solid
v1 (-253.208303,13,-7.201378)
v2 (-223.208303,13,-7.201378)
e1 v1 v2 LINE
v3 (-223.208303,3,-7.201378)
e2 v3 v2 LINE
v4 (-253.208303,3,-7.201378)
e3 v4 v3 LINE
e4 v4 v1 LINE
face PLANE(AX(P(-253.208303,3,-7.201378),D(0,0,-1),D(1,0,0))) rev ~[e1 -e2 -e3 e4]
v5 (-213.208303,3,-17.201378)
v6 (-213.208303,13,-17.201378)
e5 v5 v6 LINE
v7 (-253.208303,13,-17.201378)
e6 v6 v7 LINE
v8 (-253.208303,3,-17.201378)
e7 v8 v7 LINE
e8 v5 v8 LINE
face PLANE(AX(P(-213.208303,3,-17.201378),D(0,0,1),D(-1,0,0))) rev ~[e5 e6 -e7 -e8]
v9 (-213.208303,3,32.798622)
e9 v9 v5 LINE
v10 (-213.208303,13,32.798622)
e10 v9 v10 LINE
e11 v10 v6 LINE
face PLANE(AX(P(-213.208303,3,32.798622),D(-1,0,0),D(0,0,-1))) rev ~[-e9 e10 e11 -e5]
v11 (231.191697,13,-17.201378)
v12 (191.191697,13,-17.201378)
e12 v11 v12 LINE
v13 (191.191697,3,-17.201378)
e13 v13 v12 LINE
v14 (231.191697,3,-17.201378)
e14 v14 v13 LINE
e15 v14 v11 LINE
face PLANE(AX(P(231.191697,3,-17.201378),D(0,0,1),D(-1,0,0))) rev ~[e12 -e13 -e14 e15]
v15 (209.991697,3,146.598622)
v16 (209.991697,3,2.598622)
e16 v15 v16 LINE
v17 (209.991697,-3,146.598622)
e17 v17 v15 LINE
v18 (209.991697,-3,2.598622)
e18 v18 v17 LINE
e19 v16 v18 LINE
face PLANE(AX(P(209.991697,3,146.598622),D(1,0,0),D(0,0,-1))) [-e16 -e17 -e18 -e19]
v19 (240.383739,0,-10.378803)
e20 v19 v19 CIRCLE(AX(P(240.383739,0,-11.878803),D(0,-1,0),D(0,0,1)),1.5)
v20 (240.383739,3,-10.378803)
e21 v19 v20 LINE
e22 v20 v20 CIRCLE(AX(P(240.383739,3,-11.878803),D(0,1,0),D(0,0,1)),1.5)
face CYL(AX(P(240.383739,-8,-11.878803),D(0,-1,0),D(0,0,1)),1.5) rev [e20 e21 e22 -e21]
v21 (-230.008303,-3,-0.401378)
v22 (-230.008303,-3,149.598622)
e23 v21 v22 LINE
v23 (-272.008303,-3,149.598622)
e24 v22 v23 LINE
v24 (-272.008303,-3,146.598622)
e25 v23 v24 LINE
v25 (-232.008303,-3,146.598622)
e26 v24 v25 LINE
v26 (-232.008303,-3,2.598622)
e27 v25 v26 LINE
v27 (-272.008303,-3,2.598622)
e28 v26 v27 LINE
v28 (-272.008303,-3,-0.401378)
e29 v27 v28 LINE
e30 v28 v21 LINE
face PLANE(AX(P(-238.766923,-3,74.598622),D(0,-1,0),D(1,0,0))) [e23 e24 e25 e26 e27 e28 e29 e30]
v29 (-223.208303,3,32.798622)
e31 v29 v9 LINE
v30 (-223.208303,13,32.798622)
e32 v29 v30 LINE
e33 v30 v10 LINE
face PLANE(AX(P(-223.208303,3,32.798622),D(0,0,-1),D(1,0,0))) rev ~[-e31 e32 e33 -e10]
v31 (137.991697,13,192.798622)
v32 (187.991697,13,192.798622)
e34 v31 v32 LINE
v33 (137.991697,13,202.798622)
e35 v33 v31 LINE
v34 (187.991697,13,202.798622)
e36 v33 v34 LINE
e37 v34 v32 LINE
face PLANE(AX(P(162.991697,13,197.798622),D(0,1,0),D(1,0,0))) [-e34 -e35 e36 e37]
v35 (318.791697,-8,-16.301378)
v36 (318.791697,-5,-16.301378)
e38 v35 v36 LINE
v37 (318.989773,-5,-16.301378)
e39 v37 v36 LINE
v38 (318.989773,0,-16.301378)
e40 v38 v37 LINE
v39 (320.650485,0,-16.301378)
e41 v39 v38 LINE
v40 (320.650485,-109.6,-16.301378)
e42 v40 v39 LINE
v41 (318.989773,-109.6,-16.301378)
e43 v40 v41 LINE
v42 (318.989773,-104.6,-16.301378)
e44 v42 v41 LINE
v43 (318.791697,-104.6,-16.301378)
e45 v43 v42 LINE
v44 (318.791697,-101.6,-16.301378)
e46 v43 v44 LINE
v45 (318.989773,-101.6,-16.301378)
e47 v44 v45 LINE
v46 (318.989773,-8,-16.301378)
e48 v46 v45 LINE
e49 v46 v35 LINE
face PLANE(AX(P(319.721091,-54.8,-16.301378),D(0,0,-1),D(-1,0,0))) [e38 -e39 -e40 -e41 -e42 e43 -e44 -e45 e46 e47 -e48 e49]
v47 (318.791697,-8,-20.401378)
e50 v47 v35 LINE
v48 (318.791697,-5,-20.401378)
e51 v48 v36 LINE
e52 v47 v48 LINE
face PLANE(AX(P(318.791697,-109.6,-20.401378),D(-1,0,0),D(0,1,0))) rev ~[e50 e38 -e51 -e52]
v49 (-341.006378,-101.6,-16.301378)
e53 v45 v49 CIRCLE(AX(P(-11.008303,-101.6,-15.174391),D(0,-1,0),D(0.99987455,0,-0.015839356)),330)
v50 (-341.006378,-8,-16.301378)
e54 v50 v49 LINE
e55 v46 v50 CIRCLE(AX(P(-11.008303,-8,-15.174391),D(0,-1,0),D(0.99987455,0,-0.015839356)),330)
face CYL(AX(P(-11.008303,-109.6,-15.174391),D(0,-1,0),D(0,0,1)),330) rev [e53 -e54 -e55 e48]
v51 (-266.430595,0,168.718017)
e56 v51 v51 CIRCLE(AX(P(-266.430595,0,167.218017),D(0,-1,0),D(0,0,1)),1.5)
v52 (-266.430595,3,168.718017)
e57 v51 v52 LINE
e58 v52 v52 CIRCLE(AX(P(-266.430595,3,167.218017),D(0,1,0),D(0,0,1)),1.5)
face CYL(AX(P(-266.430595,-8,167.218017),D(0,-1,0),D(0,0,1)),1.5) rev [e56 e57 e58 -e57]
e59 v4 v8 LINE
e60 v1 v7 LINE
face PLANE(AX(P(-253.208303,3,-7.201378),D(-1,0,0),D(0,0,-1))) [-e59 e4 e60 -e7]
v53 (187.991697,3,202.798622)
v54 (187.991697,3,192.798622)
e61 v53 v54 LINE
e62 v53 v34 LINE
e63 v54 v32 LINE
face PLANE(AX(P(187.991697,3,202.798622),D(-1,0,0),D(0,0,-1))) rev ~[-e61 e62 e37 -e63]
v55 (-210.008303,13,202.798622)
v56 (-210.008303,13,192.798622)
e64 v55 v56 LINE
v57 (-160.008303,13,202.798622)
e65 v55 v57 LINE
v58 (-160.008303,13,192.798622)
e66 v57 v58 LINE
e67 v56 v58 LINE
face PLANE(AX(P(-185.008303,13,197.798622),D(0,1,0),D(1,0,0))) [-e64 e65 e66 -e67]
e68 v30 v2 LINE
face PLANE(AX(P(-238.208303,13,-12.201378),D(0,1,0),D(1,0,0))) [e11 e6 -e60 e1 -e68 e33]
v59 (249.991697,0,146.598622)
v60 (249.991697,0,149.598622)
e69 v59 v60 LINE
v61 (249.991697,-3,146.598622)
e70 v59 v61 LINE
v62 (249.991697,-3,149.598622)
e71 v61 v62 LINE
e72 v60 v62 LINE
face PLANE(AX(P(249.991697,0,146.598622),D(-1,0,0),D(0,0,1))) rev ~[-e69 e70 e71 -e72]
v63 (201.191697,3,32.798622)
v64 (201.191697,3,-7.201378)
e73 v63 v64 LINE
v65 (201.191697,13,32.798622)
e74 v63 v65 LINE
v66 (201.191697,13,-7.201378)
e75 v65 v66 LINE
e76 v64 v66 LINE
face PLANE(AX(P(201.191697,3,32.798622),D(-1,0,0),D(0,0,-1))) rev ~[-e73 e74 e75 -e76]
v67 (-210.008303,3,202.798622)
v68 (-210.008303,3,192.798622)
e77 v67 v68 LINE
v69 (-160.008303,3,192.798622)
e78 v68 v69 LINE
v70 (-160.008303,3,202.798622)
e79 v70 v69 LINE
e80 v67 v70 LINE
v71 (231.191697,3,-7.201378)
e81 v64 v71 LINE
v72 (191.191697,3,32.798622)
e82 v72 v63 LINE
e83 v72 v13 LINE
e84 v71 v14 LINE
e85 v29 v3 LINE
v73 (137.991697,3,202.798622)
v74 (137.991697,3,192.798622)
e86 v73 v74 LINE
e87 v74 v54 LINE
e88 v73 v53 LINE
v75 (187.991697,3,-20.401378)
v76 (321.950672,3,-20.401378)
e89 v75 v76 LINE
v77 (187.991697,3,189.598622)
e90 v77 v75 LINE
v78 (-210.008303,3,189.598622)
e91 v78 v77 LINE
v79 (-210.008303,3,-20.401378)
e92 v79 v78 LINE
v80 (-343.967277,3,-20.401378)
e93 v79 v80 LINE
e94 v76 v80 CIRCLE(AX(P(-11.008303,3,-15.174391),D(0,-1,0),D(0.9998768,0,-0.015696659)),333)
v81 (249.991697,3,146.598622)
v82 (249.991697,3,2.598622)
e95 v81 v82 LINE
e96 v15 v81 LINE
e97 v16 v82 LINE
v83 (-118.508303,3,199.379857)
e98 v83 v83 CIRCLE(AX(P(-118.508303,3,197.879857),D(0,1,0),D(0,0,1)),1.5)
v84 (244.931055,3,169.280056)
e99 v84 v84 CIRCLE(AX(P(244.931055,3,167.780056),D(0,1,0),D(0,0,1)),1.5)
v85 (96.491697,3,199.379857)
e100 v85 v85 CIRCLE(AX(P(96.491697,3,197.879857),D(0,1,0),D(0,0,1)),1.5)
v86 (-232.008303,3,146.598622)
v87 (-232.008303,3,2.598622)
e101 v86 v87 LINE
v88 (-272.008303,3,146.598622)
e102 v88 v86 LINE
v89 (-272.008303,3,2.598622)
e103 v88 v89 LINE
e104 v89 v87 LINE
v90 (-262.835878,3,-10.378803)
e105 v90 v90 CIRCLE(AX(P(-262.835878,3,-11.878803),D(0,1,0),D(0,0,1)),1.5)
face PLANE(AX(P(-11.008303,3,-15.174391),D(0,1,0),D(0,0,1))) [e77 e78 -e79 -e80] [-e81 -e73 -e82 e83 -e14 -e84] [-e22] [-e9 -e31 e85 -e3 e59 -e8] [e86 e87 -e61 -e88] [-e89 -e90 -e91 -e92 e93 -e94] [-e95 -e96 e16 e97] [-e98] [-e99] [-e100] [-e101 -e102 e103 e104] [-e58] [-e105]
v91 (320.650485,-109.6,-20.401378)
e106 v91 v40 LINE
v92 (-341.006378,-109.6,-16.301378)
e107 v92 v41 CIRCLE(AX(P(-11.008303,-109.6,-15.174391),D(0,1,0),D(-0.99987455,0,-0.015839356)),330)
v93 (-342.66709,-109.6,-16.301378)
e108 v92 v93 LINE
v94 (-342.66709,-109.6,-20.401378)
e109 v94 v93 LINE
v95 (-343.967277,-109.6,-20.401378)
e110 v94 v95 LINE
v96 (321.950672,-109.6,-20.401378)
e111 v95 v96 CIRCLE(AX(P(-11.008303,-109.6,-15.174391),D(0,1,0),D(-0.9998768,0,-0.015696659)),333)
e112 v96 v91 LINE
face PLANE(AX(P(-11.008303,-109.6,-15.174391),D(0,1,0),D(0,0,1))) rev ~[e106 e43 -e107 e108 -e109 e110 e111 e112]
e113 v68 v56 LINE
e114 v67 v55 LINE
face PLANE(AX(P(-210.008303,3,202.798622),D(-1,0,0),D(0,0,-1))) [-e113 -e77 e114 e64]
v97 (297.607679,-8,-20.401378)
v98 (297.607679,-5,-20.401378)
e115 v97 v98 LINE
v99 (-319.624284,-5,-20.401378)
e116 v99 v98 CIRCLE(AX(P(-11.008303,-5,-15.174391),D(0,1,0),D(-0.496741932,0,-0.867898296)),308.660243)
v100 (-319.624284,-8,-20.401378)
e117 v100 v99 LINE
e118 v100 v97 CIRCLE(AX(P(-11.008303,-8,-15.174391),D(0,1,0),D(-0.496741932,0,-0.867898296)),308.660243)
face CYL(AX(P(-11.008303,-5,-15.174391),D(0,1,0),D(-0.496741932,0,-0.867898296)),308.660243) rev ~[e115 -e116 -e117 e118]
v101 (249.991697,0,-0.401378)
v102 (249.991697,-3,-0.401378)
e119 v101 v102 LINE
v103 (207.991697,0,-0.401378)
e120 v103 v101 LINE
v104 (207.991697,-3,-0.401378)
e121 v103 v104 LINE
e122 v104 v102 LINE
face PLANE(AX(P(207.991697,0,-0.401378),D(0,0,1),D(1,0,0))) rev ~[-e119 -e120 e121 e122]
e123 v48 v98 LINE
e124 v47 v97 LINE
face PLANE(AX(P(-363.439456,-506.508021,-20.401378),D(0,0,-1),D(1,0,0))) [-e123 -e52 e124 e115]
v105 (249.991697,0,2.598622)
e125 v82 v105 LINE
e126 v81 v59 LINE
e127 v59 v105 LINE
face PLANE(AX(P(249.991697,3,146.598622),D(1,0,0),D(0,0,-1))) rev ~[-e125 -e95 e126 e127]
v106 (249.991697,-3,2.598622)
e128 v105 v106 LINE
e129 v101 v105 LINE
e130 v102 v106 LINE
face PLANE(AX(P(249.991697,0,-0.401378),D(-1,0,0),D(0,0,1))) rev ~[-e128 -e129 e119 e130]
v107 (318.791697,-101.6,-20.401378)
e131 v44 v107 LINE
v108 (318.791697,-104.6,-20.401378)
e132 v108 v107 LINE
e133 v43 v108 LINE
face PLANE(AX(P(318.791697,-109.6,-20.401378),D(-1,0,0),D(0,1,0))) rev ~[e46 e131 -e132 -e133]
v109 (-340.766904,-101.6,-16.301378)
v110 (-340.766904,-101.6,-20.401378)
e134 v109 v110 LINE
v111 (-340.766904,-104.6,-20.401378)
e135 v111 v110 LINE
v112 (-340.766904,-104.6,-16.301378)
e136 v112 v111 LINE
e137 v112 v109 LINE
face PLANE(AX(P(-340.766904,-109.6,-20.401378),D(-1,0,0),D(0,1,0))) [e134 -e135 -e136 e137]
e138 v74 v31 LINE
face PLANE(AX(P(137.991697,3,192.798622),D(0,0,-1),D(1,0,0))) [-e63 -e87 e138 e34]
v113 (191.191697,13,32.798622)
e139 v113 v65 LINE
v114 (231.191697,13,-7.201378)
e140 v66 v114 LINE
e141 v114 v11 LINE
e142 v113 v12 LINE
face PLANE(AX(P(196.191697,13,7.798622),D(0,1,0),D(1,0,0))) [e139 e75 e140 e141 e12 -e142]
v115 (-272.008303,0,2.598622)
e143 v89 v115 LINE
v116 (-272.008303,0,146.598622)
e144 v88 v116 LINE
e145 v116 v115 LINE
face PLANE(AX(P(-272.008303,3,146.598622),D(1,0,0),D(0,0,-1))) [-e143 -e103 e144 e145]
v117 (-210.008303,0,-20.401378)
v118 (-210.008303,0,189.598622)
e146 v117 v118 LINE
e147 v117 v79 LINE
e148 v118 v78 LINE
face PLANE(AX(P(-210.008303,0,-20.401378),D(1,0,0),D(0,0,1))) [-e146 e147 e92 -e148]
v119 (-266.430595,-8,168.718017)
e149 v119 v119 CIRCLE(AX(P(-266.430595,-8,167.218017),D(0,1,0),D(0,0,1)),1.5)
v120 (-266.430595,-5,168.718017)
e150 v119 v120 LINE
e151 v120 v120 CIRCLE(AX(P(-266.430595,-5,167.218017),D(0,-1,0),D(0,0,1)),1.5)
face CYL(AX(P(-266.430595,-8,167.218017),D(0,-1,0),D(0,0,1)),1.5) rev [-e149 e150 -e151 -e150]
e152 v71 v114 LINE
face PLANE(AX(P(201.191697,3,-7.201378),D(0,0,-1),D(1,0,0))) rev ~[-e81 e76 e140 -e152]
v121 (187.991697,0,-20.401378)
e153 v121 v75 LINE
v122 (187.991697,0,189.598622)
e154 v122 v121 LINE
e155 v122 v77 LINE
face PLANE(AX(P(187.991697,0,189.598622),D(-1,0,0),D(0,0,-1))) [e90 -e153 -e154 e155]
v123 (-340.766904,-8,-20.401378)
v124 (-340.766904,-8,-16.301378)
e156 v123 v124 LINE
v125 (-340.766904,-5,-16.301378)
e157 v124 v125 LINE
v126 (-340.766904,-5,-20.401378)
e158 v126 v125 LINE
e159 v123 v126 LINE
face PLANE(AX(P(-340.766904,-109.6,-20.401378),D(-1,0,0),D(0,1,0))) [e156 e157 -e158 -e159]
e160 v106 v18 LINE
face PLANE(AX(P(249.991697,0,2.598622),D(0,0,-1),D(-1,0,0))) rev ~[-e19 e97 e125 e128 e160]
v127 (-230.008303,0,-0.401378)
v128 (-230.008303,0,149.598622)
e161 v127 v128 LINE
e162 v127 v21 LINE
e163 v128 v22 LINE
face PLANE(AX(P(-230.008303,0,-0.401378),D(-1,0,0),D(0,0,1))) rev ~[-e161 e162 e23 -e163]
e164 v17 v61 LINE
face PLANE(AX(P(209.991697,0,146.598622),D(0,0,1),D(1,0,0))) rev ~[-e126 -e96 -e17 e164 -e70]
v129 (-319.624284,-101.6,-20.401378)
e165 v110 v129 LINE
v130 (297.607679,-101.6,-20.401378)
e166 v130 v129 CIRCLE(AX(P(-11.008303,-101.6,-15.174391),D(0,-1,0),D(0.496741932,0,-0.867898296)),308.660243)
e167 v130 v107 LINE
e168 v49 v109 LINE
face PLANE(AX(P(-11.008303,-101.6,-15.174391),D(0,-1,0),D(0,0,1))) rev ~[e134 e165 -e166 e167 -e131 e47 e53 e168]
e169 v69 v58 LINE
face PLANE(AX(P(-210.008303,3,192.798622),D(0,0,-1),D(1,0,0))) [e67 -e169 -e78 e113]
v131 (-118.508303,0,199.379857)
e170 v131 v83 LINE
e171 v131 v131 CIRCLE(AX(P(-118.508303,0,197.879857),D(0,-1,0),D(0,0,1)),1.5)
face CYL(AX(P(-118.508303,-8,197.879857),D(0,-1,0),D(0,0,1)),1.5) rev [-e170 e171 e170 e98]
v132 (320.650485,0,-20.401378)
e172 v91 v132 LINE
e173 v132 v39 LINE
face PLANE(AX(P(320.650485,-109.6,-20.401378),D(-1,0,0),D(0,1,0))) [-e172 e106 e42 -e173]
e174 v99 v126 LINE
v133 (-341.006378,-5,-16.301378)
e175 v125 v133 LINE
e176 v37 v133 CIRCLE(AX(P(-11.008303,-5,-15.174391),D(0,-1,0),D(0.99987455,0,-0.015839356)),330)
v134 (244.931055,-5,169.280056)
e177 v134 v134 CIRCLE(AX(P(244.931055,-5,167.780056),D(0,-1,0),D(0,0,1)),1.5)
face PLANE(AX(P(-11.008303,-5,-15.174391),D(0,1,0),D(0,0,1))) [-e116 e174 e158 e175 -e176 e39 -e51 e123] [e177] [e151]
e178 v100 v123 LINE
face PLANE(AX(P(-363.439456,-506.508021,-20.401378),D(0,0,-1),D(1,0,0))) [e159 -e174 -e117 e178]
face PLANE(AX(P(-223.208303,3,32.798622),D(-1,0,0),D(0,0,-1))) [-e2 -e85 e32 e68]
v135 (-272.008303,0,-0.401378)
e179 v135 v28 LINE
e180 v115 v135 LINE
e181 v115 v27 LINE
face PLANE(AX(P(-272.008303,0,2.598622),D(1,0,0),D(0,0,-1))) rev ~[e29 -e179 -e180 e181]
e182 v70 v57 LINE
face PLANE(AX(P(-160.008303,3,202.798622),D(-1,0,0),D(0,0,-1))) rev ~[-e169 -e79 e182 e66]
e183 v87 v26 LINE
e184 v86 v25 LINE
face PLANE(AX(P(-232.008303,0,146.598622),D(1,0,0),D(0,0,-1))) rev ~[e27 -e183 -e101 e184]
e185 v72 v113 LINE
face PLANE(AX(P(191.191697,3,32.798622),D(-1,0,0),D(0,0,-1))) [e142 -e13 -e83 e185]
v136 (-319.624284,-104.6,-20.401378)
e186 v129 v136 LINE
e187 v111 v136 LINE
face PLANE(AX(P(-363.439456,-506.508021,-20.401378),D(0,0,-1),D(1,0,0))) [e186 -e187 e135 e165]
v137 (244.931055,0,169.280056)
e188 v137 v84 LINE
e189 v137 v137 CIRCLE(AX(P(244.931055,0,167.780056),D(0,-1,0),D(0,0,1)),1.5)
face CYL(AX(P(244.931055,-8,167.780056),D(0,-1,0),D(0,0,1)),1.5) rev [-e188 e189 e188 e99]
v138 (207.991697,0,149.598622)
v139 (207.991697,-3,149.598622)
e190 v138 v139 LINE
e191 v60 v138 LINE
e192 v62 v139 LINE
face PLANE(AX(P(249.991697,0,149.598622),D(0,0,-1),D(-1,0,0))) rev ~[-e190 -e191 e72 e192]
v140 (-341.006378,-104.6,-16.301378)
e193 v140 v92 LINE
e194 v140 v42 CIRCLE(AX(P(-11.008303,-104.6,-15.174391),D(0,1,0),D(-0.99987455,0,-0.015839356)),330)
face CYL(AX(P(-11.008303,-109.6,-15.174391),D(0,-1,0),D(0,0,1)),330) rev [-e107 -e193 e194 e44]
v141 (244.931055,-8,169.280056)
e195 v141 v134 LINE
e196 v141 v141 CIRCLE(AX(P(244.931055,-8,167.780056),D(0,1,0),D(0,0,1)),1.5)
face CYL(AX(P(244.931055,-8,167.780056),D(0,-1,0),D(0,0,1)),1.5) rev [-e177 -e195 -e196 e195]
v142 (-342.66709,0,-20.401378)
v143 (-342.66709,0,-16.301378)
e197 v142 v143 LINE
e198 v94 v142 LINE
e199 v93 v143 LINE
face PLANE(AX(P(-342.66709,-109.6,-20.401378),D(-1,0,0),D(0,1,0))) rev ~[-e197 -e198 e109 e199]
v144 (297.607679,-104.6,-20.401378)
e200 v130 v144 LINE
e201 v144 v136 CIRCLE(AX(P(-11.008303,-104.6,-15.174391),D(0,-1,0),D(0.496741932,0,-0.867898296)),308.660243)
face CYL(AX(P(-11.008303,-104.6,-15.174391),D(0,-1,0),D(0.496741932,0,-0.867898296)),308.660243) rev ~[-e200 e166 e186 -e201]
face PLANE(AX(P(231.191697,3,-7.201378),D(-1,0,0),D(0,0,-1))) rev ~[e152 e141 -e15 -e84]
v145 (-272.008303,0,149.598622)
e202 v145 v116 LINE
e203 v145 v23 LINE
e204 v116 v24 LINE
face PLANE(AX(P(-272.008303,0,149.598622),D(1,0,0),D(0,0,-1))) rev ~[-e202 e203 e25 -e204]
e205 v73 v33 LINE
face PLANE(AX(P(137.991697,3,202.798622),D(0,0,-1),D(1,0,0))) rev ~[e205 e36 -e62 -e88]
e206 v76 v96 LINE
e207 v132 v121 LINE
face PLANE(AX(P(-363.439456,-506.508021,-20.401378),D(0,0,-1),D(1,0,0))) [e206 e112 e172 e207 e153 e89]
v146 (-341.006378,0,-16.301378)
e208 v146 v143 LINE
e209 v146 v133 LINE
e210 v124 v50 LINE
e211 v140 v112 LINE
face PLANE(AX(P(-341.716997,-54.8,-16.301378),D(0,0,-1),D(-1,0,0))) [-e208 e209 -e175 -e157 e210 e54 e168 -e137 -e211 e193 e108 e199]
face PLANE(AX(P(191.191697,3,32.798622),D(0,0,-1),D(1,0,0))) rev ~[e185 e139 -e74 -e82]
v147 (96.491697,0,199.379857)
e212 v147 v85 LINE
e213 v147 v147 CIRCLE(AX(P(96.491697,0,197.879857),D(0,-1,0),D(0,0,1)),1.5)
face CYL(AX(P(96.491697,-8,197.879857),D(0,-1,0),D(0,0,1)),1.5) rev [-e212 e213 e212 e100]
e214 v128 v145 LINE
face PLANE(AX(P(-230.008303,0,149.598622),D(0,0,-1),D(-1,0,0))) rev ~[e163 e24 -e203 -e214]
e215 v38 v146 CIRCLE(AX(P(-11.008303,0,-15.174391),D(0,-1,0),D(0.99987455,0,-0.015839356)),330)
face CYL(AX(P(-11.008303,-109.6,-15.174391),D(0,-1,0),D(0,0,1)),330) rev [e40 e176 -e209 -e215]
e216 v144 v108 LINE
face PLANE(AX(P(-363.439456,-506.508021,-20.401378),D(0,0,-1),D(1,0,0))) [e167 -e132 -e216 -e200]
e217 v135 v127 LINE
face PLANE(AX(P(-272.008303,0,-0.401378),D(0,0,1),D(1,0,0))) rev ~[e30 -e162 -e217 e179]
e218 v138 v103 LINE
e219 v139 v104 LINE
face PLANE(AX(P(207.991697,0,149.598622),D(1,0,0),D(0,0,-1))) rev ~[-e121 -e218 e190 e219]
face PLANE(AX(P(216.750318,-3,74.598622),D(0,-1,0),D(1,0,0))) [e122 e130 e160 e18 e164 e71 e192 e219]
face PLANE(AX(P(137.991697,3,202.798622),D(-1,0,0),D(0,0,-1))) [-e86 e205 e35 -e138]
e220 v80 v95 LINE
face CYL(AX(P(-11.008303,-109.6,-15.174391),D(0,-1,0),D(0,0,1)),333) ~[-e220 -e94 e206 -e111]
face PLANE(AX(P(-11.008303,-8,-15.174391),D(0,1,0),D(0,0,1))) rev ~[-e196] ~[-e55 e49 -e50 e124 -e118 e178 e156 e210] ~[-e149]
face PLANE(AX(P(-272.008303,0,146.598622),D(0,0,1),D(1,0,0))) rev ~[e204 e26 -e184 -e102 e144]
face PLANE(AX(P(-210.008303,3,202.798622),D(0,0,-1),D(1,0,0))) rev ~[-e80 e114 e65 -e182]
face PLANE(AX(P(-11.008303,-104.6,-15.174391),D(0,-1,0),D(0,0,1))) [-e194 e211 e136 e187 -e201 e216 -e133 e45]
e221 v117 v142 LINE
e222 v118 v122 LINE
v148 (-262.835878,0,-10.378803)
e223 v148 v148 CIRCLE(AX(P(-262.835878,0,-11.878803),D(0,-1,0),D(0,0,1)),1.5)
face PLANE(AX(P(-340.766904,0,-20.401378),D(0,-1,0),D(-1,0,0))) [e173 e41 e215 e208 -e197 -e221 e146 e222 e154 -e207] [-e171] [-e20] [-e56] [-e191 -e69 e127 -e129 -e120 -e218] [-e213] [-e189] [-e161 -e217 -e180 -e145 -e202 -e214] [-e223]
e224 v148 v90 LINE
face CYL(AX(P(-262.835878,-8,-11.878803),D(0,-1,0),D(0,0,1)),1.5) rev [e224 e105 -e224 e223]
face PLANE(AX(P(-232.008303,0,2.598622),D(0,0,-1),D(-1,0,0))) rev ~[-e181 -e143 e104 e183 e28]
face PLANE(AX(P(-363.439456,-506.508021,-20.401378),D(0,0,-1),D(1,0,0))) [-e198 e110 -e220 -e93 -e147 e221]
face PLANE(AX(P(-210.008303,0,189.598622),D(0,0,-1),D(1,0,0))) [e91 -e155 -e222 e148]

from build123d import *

# Parameters (mm, degrees)
BOSS_EXTRUDE2_DEPTH      = 3
BOSS_EXTRUDE2_DEPTH_BACK = 109.6
SKETCH3_R                = 333
SKETCH3_R_2              = 330
SKETCH5_R                = 330
BOSS_EXTRUDE4_DEPTH      = 3
SKETCH6_R                = 333
BOSS_EXTRUDE6_DEPTH      = 3
SKETCH17_R               = 330
BOSS_EXTRUDE9_DEPTH      = 3
CUT_EXTRUDE1_DEPTH       = 501.508020593
CUT_EXTRUDE1_DEPTH_BACK  = 501.508020593
SKETCH18_W               = 712.715925151
SKETCH18_H               = 346.222463294
SKETCH19_W               = 50
SKETCH19_H               = 10
SKETCH19_W_2             = 10
SKETCH19_H_2             = 50
SKETCH19_W_3             = 30
BOSS_EXTRUDE10_DEPTH     = 10
SKETCH20_W               = 1.85878785
SKETCH20_H               = 109.6
SKETCH20_W_2             = 1.900186503
CUT_EXTRUDE2_DEPTH       = 4.1
CUT_EXTRUDE3_START       = -11
SKETCH23_R               = 1.5
CUT_EXTRUDE3_DEPTH       = 11
SKETCH24_W               = 40
SKETCH24_H               = 144
CUT_EXTRUDE4_DEPTH       = 3
BOSS_EXTRUDE11_DEPTH     = 3


with BuildPart() as part:
    # Sketch3 → Boss-Extrude2 (new, two sides: drawn at the far end of the back side and taken through both)
    with BuildSketch(Plane(origin=(0, 0, 0), x_dir=(1, 0, 0), z_dir=(0, 1, 0)).offset(-BOSS_EXTRUDE2_DEPTH_BACK)):
        with Locations(Location((-11.008302555, 15.174390861, 0), (0, 0, 270))):
            Circle(SKETCH3_R)
        with Locations(Location((-11.008302555, 15.174390861, 0), (0, 0, 270))):
            Circle(SKETCH3_R_2, mode=Mode.SUBTRACT)
    extrude(amount=BOSS_EXTRUDE2_DEPTH + BOSS_EXTRUDE2_DEPTH_BACK)

    # Sketch5 → Boss-Extrude4 (add)
    with BuildSketch(Plane.XZ.offset(104.6)):
        with Locations(Location((-11.008302555, -15.174390861, 0), (0, 0, 90))):
            Circle(SKETCH5_R)
        with BuildLine():
            Line((-164.332788108, -283.060090014), (142.316182998, -283.060090014))
            ThreePointArc((142.316182998, -283.060090014), (-11.008302555, 293.485852256), (-164.332788108, -283.060090014))
        make_face(mode=Mode.SUBTRACT)
    extrude(amount=-BOSS_EXTRUDE4_DEPTH)

    # Sketch6 → Boss-Extrude6 (add)
    with BuildSketch(Plane(origin=(0, 0, 0), x_dir=(1, 0, 0), z_dir=(0, 1, 0))):
        with Locations(Location((-11.008302555, 15.174390861, 0), (0, 0, 270))):
            Circle(SKETCH6_R)
        Polygon((187.991697445, -189.598621739), (187.991697445, 20.401378261), (224.991697445, 20.401378261), (224.991697445, 100.970480915), (60.317326344, 288.174390861), (-82.333931455, 288.174390861), (-247.008302555, 100.970480915), (-247.008302555, 20.401378261), (-210.008302555, 20.401378261), (-210.008302555, -189.598621739), align=None, mode=Mode.SUBTRACT)
    extrude(amount=BOSS_EXTRUDE6_DEPTH)

    # Sketch17 → Boss-Extrude9 (add)
    with BuildSketch(Plane(origin=(0, -5, 0), x_dir=(1, 0, 0), z_dir=(0, 1, 0))):
        with Locations(Location((-11.008302555, 15.174390861, 0), (0, 0, 270))):
            Circle(SKETCH17_R)
        with BuildLine():
            Line((142.316182998, 283.060090014), (-164.332788108, 283.060090014))
            ThreePointArc((-164.332788108, 283.060090014), (-11.008302555, -293.485852256), (142.316182998, 283.060090014))
        make_face(mode=Mode.SUBTRACT)
    extrude(amount=-BOSS_EXTRUDE9_DEPTH)

    # Sketch18 → Cut-Extrude1 (cut, two sides: drawn at the far end of the back side and taken through both)
    with BuildSketch(Plane(origin=(0, -5, 0), x_dir=(1, 0, 0), z_dir=(0, 1, 0)).offset(-CUT_EXTRUDE1_DEPTH_BACK)):
        with Locations((-7.081493051, 193.512609908)):
            Rectangle(SKETCH18_W, SKETCH18_H)
    extrude(amount=CUT_EXTRUDE1_DEPTH + CUT_EXTRUDE1_DEPTH_BACK, mode=Mode.SUBTRACT)

    # Sketch19 → Boss-Extrude10 (add)
    with BuildSketch(Plane(origin=(0, 3, 0), x_dir=(1, 0, 0), z_dir=(0, 1, 0))):
        with Locations((-185.008302555, -197.798621739)):
            Rectangle(SKETCH19_W, SKETCH19_H)
        with Locations((162.991697445, -197.798621739)):
            Rectangle(SKETCH19_W, SKETCH19_H)
        with Locations((196.191697445, -7.798621739)):
            Rectangle(SKETCH19_W_2, SKETCH19_H_2)
        with Locations((216.191697445, 12.201378261)):
            Rectangle(SKETCH19_W_3, SKETCH19_H)
        with Locations((-238.208302555, 12.201378261)):
            Rectangle(SKETCH19_W_3, SKETCH19_H)
        with Locations((-218.208302555, -7.798621739)):
            Rectangle(SKETCH19_W_2, SKETCH19_H_2)
    extrude(amount=BOSS_EXTRUDE10_DEPTH)

    # Sketch20 → Cut-Extrude2 (cut)
    with BuildSketch(Plane(origin=(0, 0, -20.401378261), x_dir=(-1, 0, 0), z_dir=(0, 0, -1))):
        with Locations((-319.72109137, -54.8)):
            Rectangle(SKETCH20_W, SKETCH20_H)
        with Locations((341.716997154, -54.8)):
            Rectangle(SKETCH20_W_2, SKETCH20_H)
    extrude(amount=-CUT_EXTRUDE2_DEPTH, mode=Mode.SUBTRACT)

    # Sketch23 → Cut-Extrude3 (cut)
    with BuildSketch(Plane(origin=(0, 3, 0), x_dir=(1, 0, 0), z_dir=(0, 1, 0)).offset(CUT_EXTRUDE3_START)):
        with Locations(Location((-266.430595358, -167.218017294, 0), (0, 0, 270))):
            Circle(SKETCH23_R)
        with Locations(Location((-262.835878396, 11.878802847, 0), (0, 0, 270))):
            Circle(SKETCH23_R)
        with Locations(Location((240.383738856, 11.878802847, 0), (0, 0, 270))):
            Circle(SKETCH23_R)
        with Locations(Location((244.931055017, -167.7800562, 0), (0, 0, 270))):
            Circle(SKETCH23_R)
        with Locations(Location((-118.508302555, -197.879856977, 0), (0, 0, 270))):
            Circle(SKETCH23_R)
        with Locations(Location((96.491697445, -197.879856977, 0), (0, 0, 270))):
            Circle(SKETCH23_R)
    extrude(amount=CUT_EXTRUDE3_DEPTH, mode=Mode.SUBTRACT)

    # Sketch24 → Cut-Extrude4 (cut)
    with BuildSketch(Plane(origin=(0, 3, 0), x_dir=(1, 0, 0), z_dir=(0, 1, 0))):
        with Locations((-252.008302555, -74.598621739)):
            Rectangle(SKETCH24_W, SKETCH24_H)
        with Locations((229.991697445, -74.598621739)):
            Rectangle(SKETCH24_W, SKETCH24_H)
    extrude(amount=-CUT_EXTRUDE4_DEPTH, mode=Mode.SUBTRACT)

    # Sketch25 → Boss-Extrude11 (add)
    with BuildSketch(Plane.XZ):
        Polygon((-272.008302555, 149.598621739), (-272.008302555, 146.598621739), (-232.008302555, 146.598621739), (-232.008302555, 2.598621739), (-272.008302555, 2.598621739), (-272.008302555, -0.401378261), (-230.008302555, -0.401378261), (-230.008302555, 149.598621739), align=None)
        Polygon((249.991697445, 149.598621739), (207.991697445, 149.598621739), (207.991697445, -0.401378261), (249.991697445, -0.401378261), (249.991697445, 2.598621739), (209.991697445, 2.598621739), (209.991697445, 146.598621739), (249.991697445, 146.598621739), align=None)
    extrude(amount=BOSS_EXTRUDE11_DEPTH)


solid = part.part
